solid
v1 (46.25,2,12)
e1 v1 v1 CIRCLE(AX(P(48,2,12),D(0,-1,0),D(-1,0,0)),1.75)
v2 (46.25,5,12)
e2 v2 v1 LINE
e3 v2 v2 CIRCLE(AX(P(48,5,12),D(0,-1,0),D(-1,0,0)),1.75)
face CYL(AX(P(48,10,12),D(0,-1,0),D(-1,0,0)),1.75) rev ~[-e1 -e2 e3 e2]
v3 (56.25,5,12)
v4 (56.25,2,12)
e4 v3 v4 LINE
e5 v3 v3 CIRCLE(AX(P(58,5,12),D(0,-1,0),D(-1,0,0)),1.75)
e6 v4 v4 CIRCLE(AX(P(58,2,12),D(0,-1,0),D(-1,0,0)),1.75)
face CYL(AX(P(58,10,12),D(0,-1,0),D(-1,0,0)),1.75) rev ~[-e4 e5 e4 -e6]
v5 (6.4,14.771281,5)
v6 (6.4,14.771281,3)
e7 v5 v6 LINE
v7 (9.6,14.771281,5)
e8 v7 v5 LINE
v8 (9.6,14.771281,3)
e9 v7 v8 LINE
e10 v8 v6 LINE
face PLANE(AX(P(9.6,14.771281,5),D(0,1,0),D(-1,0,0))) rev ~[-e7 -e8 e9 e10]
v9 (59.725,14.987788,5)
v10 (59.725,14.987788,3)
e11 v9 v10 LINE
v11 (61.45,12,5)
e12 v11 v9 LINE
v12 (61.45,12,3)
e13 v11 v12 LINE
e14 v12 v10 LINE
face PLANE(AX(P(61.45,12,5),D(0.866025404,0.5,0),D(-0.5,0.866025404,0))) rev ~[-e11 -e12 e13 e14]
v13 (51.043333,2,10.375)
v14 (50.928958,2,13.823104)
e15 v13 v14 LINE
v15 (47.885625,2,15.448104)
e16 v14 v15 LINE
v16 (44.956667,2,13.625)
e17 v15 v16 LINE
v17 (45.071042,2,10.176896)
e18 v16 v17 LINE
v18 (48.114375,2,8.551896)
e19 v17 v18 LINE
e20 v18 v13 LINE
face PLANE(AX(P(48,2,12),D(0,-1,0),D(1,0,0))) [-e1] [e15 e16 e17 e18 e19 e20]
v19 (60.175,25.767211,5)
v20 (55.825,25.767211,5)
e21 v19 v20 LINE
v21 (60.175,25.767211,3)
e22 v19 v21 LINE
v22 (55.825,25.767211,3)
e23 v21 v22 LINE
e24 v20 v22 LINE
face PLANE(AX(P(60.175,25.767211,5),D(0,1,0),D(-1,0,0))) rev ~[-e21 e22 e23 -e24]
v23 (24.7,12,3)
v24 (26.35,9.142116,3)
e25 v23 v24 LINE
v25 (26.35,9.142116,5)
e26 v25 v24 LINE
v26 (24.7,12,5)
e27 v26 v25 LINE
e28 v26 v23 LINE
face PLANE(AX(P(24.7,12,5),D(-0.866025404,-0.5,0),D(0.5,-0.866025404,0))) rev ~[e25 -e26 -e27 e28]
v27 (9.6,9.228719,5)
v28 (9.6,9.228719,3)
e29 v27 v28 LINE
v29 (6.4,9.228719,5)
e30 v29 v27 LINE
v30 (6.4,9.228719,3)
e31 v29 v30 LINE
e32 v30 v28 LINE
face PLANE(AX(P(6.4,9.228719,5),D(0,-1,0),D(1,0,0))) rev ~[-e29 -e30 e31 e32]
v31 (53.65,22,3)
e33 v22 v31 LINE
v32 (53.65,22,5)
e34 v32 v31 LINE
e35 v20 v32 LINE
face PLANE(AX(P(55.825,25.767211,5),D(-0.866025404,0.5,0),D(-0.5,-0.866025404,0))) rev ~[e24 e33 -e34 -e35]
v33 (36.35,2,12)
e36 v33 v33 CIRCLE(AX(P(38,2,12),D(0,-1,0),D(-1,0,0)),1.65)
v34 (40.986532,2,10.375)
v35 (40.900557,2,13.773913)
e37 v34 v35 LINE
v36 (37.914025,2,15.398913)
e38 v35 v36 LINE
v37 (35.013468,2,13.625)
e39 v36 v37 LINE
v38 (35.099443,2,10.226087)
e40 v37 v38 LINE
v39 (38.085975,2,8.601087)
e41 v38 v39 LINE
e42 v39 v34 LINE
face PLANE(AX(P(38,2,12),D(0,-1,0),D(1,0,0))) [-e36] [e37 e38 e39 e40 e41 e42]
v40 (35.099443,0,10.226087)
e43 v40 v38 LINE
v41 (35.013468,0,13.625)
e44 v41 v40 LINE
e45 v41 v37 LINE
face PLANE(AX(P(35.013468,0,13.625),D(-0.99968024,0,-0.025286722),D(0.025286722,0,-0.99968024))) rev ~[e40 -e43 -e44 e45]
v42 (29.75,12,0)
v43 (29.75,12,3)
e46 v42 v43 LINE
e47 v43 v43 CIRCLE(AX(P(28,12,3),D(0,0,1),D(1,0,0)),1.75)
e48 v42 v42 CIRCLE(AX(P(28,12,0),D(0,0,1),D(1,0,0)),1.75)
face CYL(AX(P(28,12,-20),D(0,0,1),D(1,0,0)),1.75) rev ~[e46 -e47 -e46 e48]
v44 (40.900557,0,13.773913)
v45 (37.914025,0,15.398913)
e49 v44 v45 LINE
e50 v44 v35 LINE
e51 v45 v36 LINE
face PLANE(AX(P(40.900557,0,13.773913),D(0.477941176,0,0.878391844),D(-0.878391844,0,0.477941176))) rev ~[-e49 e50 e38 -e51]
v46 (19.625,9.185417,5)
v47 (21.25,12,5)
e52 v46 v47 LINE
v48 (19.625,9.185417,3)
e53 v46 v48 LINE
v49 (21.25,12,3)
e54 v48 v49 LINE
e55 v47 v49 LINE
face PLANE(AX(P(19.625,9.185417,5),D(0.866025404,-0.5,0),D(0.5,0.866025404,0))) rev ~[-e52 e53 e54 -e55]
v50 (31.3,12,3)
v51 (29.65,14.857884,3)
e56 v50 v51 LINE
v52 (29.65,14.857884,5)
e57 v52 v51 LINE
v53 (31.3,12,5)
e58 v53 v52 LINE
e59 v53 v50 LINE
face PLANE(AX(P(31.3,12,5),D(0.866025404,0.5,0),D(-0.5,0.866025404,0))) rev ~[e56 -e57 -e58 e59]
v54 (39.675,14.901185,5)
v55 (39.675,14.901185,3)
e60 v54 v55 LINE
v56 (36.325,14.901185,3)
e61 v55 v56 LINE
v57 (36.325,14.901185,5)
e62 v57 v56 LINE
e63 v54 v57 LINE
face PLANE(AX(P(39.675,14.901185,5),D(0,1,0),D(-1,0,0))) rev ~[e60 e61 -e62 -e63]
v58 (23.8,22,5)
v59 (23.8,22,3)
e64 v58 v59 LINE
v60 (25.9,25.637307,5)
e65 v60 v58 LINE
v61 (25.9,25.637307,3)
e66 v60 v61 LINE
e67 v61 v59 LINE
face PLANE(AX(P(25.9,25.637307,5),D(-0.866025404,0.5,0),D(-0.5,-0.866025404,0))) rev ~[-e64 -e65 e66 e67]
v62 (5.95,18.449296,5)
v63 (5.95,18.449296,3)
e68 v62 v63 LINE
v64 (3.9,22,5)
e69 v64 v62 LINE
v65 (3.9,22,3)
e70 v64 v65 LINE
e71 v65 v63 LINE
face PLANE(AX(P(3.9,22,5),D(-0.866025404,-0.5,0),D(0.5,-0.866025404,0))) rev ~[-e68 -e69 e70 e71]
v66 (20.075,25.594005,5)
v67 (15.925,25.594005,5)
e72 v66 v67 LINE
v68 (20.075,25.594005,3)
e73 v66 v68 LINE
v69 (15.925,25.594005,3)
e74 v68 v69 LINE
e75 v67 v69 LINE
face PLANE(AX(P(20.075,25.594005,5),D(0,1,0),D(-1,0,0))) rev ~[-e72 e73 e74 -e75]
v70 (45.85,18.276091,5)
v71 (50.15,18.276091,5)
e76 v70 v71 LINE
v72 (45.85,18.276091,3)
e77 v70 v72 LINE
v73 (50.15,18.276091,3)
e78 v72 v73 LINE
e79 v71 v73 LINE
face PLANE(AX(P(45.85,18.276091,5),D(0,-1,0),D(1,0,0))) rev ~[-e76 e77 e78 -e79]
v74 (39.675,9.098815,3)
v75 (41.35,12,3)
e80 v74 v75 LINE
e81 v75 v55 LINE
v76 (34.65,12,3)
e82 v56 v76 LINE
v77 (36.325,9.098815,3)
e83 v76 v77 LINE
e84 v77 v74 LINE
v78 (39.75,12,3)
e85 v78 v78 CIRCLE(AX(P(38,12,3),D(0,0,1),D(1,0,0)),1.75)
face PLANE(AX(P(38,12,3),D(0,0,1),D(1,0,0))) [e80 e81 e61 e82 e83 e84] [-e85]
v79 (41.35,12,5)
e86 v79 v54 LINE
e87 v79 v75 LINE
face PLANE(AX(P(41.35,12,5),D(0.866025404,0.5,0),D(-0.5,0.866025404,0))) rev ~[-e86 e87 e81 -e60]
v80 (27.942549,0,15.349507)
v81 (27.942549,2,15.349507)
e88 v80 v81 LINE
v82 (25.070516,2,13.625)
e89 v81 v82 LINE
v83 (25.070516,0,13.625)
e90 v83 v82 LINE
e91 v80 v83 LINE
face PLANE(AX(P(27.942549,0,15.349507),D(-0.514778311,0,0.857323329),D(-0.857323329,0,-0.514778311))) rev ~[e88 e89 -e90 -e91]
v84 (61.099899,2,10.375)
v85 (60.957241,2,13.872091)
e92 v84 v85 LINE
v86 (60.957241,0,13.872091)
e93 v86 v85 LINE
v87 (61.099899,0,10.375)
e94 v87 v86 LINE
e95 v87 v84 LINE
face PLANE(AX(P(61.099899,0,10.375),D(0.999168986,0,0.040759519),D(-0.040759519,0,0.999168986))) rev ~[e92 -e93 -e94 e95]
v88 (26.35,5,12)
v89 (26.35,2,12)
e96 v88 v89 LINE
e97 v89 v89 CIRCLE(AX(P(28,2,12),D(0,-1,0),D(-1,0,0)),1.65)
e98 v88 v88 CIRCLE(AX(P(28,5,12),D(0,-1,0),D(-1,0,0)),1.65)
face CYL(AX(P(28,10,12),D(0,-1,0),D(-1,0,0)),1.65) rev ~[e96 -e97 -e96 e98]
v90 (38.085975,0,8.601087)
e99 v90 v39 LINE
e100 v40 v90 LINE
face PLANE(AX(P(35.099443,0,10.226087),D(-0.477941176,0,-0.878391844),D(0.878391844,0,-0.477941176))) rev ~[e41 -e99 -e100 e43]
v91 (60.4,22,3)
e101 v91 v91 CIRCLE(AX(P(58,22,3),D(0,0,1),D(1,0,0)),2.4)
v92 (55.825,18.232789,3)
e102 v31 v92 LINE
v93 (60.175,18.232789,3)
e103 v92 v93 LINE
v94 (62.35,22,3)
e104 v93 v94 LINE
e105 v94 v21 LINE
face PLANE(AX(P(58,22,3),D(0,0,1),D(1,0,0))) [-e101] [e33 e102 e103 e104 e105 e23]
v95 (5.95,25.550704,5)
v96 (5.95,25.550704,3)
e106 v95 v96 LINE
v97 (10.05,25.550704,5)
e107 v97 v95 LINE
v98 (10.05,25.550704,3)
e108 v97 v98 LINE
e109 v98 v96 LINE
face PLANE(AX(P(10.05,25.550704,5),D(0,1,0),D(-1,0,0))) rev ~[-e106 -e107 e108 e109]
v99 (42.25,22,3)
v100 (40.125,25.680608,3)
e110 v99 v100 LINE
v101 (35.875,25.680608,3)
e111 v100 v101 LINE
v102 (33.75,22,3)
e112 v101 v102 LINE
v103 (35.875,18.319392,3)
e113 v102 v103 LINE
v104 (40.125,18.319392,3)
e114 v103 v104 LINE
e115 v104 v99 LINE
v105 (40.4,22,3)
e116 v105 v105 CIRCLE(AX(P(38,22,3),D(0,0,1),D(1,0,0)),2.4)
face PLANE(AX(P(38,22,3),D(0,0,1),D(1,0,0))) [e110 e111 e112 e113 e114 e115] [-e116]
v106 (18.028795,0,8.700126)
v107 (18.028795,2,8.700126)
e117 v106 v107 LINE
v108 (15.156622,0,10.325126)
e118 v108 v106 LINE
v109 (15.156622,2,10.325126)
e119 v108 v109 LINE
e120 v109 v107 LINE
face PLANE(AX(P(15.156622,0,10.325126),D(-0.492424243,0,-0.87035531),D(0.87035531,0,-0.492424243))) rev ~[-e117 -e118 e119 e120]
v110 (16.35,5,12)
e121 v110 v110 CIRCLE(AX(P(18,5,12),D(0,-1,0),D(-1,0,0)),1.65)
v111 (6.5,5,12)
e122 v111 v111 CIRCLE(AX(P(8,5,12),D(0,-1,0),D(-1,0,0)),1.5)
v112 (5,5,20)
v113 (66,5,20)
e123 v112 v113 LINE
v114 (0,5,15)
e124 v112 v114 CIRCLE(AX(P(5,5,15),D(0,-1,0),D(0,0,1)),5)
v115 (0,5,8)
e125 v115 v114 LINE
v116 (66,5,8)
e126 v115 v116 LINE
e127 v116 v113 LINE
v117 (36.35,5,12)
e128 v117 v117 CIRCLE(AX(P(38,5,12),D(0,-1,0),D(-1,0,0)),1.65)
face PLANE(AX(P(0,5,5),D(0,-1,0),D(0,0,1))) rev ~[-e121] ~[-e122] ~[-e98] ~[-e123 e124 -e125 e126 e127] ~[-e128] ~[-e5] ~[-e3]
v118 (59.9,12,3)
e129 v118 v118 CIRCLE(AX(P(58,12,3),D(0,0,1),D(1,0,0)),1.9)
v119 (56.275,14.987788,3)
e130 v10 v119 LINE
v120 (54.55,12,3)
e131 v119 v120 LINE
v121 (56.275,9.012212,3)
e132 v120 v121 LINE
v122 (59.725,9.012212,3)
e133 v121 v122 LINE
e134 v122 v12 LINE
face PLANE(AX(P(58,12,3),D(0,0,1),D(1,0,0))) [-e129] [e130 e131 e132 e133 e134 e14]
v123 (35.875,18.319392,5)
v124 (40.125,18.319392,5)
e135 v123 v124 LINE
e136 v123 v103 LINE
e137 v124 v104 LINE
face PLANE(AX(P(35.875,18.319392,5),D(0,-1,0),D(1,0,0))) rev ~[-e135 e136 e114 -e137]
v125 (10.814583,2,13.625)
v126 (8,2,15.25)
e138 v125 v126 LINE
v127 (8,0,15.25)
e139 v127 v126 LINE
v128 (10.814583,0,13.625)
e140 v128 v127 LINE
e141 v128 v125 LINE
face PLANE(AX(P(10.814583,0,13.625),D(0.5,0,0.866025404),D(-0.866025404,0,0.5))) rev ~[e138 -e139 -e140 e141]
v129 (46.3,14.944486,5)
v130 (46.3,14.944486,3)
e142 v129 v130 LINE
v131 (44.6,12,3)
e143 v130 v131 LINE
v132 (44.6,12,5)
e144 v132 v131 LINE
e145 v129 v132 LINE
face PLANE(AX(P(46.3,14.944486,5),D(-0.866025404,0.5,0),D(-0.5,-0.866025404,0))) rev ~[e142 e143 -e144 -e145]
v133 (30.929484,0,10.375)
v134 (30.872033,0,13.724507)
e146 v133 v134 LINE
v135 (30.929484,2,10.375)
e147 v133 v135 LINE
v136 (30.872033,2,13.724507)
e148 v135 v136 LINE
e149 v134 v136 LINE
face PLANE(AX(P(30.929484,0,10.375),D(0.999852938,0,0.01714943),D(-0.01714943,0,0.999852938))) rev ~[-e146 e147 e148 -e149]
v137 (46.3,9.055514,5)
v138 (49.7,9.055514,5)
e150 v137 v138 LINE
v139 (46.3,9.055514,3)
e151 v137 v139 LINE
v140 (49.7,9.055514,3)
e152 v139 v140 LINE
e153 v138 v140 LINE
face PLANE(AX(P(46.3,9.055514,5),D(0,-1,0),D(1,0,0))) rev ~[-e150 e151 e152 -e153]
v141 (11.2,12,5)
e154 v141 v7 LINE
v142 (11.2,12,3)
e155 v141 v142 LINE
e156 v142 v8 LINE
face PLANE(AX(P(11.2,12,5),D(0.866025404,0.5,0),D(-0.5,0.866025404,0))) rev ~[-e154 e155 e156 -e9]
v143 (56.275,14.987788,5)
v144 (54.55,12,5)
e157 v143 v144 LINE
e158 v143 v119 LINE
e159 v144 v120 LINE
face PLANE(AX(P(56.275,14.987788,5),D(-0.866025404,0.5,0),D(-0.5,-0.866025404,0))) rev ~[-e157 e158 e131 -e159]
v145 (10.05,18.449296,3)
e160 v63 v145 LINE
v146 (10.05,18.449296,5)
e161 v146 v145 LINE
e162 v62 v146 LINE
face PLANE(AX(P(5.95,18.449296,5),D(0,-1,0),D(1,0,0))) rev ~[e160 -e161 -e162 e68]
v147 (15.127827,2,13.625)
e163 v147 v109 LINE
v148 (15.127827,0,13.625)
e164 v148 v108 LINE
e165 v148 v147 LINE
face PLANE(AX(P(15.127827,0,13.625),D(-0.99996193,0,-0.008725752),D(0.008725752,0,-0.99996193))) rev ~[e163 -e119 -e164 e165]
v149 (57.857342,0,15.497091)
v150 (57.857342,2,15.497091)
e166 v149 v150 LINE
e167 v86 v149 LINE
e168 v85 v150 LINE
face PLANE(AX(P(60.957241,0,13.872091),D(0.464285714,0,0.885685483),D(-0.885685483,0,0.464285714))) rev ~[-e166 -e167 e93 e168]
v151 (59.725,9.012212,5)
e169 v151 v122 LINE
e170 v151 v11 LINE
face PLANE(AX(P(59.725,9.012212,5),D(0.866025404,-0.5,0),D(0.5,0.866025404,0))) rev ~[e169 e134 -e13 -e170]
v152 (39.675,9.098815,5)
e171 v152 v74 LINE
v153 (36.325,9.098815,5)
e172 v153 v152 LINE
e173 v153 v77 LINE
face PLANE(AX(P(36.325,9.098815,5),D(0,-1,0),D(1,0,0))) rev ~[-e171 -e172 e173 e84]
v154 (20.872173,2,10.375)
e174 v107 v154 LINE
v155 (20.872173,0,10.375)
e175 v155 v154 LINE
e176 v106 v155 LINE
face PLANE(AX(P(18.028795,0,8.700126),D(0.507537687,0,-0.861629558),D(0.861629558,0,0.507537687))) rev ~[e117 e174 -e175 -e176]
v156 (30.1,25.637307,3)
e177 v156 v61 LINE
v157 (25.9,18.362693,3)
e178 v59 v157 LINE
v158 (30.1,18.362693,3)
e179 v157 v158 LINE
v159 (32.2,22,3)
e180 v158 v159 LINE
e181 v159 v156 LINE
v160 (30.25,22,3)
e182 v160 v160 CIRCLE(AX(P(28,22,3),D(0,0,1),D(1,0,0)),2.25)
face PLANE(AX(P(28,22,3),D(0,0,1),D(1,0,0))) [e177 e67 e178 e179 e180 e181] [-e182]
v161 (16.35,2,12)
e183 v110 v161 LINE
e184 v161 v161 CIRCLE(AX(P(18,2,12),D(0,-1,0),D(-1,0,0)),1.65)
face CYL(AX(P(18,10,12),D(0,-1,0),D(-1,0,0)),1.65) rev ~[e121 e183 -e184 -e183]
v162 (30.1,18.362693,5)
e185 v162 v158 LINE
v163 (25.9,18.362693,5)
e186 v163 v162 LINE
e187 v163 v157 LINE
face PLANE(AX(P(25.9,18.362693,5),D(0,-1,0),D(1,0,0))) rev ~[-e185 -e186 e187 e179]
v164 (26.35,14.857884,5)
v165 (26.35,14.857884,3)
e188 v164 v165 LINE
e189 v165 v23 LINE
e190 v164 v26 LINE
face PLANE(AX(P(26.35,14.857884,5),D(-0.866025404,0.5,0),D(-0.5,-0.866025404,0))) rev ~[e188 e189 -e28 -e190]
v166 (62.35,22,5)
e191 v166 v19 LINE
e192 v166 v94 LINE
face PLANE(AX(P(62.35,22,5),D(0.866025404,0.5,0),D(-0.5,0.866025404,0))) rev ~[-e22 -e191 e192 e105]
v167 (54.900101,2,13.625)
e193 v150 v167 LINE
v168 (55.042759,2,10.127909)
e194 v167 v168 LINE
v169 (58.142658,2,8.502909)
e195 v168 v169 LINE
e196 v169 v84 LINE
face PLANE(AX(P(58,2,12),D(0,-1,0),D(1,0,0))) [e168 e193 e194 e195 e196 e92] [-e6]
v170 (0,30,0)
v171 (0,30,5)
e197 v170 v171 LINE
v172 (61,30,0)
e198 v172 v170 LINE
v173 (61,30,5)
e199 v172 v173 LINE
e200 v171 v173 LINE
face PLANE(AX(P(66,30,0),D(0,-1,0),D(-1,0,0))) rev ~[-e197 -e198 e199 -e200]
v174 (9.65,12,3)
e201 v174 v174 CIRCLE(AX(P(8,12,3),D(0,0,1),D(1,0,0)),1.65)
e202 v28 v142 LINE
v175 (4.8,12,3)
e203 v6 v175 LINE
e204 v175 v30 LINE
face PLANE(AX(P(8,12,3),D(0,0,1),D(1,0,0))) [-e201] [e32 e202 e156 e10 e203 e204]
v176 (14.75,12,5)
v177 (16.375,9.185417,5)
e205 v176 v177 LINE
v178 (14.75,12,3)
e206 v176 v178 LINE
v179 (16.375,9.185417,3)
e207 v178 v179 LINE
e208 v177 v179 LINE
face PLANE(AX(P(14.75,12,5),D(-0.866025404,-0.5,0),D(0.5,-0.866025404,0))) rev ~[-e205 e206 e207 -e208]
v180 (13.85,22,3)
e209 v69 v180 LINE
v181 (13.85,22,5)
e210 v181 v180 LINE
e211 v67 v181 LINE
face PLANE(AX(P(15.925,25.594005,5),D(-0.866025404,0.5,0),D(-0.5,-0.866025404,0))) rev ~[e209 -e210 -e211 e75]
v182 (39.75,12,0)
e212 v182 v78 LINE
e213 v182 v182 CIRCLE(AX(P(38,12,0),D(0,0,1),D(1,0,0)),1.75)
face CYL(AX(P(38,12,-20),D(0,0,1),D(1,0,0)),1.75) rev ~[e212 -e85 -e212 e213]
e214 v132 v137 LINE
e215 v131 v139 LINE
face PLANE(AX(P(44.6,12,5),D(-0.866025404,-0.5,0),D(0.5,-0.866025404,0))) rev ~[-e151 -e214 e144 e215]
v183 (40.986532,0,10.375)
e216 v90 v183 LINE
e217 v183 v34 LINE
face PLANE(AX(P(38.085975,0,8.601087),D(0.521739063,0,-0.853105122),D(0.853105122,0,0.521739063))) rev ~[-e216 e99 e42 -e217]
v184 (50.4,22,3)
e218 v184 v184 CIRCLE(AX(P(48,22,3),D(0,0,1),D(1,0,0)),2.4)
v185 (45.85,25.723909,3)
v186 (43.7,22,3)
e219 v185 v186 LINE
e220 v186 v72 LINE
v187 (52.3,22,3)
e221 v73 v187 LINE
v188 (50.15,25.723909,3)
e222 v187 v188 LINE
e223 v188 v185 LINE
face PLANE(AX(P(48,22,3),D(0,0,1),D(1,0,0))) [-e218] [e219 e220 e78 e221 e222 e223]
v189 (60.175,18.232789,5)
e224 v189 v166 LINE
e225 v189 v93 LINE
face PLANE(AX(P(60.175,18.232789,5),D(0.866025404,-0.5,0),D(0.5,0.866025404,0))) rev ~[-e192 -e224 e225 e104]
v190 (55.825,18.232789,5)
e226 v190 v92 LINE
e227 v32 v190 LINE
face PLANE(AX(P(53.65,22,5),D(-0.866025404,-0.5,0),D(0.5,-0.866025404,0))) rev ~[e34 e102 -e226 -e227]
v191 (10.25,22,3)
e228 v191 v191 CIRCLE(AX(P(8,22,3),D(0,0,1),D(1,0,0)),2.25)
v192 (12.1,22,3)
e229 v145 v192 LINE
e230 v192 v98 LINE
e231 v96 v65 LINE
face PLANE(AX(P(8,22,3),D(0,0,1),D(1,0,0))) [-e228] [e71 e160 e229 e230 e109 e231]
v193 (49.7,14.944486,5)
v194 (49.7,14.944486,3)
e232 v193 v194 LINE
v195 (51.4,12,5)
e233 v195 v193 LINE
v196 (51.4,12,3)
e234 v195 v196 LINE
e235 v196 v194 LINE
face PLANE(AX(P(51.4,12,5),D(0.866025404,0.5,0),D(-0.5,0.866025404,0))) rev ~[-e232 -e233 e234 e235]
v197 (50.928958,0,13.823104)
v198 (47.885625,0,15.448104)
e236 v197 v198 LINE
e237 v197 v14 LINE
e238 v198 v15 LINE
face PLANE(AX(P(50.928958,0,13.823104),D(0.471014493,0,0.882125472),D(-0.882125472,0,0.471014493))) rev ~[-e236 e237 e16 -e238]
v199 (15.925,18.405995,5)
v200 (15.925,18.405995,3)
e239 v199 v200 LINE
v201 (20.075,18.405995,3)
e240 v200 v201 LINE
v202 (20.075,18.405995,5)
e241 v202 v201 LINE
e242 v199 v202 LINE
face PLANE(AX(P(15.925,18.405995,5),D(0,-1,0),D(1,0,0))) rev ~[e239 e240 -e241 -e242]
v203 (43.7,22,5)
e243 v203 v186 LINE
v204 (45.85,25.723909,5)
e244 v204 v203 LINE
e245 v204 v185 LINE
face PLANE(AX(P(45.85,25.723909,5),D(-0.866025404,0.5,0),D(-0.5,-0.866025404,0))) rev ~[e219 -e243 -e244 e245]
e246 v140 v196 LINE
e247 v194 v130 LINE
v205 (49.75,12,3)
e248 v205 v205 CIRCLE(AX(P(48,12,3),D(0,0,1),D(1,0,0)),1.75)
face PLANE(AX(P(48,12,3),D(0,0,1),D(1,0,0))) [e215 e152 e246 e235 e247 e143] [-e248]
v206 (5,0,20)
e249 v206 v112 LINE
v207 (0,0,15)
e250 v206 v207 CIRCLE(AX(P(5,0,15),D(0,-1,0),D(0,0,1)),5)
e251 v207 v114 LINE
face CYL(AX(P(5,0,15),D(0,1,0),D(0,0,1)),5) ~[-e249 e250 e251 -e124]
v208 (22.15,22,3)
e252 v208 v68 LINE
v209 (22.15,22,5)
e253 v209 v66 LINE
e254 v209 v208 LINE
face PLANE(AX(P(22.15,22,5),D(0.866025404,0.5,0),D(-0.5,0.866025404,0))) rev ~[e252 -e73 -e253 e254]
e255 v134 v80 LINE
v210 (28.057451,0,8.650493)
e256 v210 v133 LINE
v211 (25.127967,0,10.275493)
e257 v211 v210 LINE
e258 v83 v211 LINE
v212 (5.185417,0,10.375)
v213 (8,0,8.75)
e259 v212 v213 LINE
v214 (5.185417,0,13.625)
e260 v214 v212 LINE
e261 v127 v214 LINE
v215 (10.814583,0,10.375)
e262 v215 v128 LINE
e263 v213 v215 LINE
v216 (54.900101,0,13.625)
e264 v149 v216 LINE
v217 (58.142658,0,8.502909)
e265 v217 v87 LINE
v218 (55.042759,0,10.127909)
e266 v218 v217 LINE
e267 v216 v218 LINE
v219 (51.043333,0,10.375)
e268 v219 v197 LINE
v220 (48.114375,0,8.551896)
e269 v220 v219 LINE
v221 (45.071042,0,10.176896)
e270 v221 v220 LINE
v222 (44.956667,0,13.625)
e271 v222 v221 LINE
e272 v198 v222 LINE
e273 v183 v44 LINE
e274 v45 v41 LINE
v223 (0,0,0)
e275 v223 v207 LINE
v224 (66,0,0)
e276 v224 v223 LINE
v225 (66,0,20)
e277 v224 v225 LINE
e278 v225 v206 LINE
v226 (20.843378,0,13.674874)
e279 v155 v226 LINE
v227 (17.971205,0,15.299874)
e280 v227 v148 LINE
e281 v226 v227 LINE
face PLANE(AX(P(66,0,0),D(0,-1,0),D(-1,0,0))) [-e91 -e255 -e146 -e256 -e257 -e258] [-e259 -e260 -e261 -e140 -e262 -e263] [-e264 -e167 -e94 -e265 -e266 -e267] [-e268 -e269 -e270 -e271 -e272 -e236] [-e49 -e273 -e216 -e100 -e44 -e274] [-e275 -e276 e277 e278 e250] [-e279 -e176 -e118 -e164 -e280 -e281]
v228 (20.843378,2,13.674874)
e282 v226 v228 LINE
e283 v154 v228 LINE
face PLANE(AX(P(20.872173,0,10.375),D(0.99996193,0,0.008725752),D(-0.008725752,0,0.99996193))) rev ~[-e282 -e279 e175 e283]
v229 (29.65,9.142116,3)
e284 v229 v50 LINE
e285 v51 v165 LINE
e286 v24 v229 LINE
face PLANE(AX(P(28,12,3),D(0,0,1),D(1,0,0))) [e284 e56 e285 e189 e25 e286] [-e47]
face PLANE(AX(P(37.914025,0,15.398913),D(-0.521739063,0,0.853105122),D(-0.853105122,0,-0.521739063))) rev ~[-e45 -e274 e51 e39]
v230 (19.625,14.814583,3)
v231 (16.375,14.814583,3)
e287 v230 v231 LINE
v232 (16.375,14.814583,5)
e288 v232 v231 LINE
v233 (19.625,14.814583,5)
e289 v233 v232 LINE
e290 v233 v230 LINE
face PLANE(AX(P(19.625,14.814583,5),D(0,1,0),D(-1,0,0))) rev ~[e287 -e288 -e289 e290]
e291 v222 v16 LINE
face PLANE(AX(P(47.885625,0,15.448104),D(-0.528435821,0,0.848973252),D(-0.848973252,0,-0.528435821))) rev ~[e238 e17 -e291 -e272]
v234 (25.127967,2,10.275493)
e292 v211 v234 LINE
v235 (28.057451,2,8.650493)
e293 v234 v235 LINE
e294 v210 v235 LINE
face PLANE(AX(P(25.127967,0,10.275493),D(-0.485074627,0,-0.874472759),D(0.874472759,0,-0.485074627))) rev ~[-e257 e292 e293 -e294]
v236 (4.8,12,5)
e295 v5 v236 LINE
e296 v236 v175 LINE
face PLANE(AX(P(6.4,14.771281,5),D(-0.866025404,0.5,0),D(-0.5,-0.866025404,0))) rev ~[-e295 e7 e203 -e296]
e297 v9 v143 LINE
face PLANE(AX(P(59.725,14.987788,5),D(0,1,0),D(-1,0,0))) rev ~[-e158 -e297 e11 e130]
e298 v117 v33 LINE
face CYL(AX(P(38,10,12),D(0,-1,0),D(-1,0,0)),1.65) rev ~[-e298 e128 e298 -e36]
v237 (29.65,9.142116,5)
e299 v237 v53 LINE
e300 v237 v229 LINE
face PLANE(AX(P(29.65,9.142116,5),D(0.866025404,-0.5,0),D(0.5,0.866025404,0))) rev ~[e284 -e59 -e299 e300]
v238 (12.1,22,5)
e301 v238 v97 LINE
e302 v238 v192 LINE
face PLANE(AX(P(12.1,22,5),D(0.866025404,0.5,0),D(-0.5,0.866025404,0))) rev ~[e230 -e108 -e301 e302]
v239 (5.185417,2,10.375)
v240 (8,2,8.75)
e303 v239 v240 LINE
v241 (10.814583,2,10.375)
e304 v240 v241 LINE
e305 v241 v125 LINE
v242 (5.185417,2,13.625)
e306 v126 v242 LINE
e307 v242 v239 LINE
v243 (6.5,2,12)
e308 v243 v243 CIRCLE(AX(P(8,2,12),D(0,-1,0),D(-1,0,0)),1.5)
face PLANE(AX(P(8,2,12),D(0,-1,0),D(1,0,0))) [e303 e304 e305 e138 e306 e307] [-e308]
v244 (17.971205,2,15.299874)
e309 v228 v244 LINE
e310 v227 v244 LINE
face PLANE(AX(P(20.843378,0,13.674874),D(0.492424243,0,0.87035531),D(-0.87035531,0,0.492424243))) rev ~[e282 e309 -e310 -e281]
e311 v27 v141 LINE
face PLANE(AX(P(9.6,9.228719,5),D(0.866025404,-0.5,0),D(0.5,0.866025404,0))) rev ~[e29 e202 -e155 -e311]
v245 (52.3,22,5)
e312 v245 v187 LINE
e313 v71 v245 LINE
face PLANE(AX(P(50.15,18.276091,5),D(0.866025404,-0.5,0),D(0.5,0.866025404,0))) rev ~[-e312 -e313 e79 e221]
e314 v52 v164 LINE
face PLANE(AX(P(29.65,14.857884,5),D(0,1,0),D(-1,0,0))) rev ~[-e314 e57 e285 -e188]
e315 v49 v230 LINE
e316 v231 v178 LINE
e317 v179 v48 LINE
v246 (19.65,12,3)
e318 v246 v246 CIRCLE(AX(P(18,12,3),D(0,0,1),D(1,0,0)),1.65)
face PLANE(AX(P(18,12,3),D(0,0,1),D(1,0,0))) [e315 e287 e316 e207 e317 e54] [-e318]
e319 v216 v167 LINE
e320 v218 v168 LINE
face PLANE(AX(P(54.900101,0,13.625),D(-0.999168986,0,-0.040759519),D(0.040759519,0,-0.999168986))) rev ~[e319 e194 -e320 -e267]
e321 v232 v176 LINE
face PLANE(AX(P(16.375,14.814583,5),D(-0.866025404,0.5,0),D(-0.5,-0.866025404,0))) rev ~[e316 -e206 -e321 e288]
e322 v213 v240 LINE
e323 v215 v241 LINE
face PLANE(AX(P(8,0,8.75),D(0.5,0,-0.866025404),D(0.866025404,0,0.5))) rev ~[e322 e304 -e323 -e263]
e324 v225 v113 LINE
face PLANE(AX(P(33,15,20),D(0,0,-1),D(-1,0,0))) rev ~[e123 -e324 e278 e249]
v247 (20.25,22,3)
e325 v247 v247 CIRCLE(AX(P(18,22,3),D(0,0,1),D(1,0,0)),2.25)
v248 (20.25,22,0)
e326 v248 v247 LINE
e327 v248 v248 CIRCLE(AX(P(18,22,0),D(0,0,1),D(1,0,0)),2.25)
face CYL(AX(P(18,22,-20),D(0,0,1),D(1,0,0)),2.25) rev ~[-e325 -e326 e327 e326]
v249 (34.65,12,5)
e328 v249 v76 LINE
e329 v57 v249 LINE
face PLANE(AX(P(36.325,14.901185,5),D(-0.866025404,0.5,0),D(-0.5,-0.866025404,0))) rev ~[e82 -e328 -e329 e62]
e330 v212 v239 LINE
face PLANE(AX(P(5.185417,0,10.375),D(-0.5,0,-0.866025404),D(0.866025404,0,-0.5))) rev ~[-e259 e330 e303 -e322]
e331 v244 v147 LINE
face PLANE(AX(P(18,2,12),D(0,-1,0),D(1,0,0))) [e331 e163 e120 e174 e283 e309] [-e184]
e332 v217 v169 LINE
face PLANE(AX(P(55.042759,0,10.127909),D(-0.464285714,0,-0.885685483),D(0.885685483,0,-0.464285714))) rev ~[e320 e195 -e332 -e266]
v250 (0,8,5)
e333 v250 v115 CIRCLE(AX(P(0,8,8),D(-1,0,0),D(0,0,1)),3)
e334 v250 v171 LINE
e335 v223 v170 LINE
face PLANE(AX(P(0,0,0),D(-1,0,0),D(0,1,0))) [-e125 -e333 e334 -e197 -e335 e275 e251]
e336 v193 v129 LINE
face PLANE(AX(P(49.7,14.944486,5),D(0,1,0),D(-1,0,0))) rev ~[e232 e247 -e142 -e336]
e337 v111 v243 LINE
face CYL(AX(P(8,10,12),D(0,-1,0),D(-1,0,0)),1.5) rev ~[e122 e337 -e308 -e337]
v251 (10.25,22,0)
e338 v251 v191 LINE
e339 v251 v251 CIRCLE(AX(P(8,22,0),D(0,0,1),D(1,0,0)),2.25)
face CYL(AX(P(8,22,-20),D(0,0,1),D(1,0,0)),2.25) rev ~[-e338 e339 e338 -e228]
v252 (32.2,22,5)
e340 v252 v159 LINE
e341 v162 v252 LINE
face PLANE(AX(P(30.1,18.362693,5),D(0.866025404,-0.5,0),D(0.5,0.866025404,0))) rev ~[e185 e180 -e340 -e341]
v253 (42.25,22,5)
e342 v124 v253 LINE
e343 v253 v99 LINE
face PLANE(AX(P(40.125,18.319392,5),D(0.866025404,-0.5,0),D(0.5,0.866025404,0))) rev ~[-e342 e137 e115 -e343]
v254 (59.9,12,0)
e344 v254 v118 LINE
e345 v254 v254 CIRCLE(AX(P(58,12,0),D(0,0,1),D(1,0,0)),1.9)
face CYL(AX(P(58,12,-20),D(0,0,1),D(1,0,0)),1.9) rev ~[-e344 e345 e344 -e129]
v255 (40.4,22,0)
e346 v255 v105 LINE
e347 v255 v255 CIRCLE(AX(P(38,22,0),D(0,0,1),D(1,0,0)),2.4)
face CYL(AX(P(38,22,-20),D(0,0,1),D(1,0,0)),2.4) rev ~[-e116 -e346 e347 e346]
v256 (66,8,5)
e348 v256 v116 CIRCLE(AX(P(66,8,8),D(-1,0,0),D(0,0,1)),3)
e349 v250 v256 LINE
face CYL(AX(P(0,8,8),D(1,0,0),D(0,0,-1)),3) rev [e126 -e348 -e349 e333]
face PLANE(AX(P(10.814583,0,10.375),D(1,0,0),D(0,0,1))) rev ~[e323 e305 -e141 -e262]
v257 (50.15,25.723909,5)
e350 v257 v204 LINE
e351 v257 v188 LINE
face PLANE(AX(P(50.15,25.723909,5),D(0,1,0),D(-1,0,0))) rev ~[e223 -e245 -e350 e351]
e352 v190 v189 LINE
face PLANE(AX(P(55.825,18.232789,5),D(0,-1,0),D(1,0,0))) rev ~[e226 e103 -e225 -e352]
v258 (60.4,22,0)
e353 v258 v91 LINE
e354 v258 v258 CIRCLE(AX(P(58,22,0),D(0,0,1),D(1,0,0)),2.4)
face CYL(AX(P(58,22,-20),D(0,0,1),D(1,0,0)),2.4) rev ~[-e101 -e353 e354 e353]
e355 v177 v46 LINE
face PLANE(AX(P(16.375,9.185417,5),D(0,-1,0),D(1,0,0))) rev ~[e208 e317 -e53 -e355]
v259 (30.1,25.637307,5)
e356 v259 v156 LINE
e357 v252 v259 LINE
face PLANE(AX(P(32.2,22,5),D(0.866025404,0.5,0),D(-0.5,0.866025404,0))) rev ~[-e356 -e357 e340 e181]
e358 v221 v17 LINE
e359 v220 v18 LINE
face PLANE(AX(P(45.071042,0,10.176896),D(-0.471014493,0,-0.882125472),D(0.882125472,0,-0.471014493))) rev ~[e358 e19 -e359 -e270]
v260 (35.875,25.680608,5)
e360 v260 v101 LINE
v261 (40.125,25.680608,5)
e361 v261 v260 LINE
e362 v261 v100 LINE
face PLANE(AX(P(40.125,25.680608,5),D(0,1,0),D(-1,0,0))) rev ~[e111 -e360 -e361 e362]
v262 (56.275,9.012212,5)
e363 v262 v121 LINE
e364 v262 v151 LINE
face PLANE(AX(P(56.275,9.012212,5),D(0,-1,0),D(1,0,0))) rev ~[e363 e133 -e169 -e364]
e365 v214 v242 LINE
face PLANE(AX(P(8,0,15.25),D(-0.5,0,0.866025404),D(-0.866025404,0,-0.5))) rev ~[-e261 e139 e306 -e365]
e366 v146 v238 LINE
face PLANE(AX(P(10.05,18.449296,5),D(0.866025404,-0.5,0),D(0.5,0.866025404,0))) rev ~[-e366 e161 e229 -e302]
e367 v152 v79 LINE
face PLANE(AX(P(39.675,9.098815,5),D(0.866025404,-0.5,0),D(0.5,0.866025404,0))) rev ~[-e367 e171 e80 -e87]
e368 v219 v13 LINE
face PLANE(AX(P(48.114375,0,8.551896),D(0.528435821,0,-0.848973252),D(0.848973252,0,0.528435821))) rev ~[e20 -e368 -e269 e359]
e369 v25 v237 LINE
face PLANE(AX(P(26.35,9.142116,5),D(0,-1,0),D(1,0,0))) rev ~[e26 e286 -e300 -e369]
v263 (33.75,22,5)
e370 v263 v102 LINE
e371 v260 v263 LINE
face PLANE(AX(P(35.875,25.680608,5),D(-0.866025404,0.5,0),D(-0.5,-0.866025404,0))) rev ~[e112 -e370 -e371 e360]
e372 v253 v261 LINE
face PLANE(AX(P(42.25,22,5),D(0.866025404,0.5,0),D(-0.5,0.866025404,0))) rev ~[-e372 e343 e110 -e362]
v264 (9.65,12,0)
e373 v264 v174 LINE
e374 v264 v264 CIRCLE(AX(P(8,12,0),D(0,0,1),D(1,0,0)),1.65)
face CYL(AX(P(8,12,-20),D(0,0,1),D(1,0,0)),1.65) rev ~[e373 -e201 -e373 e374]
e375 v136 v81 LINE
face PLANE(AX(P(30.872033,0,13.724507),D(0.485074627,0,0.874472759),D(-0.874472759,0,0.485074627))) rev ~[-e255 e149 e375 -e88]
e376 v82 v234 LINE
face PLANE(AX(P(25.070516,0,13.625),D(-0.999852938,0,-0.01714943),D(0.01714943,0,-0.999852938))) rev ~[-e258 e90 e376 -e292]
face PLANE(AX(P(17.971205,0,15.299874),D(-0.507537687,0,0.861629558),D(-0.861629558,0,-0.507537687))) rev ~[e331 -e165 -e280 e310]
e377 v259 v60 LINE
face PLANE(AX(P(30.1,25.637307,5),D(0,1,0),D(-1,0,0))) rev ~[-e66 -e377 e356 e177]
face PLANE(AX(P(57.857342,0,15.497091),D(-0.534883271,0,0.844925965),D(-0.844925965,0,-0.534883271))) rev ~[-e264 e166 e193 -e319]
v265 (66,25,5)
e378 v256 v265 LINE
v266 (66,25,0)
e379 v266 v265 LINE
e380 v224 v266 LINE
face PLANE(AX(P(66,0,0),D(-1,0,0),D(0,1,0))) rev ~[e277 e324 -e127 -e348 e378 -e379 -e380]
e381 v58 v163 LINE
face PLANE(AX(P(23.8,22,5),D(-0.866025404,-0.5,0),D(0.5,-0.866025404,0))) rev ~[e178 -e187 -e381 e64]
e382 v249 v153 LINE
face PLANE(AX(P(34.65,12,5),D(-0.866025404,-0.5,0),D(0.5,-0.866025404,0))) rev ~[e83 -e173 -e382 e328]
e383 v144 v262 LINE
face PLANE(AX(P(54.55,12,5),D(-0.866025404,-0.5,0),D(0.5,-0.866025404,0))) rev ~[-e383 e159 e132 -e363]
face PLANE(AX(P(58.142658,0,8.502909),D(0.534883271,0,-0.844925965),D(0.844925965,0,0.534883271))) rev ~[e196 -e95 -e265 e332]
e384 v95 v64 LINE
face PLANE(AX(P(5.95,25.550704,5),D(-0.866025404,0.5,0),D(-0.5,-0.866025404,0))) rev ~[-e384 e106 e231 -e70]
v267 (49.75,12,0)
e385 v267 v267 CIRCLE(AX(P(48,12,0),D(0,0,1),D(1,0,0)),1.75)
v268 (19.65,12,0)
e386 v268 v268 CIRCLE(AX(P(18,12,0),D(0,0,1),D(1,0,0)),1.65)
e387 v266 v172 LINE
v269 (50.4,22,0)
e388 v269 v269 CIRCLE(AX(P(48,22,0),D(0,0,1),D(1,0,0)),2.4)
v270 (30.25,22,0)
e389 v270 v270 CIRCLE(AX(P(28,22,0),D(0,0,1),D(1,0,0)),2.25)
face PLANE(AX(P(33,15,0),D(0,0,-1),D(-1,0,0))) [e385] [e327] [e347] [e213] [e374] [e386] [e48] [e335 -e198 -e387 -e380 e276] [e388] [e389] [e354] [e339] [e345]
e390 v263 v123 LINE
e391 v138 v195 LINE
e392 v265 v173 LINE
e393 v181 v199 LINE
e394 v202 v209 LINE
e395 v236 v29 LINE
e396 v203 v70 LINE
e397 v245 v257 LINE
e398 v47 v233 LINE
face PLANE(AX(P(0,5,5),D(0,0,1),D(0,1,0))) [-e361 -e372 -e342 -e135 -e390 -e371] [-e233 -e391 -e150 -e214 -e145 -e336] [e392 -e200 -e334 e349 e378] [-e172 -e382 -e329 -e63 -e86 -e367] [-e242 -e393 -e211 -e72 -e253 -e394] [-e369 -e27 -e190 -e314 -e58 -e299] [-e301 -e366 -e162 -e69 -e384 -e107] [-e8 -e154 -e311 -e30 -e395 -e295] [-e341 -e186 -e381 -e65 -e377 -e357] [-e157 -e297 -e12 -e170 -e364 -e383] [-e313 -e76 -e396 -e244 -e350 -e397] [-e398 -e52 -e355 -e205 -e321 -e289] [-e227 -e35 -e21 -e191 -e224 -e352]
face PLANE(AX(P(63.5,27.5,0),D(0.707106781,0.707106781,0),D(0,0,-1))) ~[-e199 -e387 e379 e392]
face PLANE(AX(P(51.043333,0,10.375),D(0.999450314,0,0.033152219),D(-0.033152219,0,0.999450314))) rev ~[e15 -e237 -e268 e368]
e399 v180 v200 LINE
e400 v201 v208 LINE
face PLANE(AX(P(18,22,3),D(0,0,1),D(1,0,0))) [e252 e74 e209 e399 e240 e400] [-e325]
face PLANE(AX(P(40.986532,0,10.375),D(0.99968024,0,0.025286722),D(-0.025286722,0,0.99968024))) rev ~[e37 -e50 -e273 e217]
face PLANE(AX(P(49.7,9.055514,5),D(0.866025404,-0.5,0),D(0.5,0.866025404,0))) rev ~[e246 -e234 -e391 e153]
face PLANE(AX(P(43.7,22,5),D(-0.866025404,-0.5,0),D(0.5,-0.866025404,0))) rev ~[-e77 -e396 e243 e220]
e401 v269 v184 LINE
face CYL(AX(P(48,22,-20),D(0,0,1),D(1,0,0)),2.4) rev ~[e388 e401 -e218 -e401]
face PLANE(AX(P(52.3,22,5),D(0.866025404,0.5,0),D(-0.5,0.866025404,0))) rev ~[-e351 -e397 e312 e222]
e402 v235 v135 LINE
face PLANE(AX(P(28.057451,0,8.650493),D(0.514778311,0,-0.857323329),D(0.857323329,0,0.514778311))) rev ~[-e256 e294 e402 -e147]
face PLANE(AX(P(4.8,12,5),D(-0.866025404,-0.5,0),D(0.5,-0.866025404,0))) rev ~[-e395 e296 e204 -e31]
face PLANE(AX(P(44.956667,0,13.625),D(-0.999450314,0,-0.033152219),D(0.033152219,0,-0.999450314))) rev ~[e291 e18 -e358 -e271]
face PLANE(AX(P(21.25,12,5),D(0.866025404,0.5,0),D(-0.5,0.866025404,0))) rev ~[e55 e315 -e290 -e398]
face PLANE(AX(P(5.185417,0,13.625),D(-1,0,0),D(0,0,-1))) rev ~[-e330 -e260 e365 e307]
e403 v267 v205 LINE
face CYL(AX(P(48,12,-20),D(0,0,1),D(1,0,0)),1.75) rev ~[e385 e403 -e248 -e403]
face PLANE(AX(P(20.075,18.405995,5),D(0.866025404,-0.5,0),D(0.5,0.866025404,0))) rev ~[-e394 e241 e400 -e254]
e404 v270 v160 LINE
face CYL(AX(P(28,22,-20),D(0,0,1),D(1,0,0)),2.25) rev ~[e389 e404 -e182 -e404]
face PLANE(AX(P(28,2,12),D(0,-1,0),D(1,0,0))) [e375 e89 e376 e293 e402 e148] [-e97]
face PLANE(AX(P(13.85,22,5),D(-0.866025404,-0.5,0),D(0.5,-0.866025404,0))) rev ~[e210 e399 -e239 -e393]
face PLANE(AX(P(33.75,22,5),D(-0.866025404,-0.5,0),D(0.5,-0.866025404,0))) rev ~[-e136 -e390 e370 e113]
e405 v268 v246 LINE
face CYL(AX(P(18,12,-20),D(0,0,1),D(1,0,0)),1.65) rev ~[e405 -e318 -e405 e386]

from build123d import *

# Parameters (mm, degrees)
SKETCH_1_W                  = 66
SKETCH_1_H                  = 30
EXTRUDE_1_DEPTH             = 20
SKETCH_2_W                  = 15
SKETCH_2_H                  = 25
CUT_EXTRUDE_1_DEPTH         = 67
CUT_EXTRUDE_2_DEPTH         = 2
CUT_EXTRUDE_3_DEPTH         = 2
CUT_EXTRUDE_4_DEPTH         = 2
CUT_EXTRUDE_5_DEPTH         = 2
CUT_EXTRUDE_6_DEPTH         = 2
CUT_EXTRUDE_7_DEPTH         = 2
CUT_EXTRUDE_8_DEPTH         = 2
CUT_EXTRUDE_9_DEPTH         = 2
CUT_EXTRUDE_10_DEPTH        = 2
CUT_EXTRUDE_11_DEPTH        = 2
CUT_EXTRUDE_12_DEPTH        = 2
CUT_EXTRUDE_13_DEPTH        = 2
CUT_EXTRUDE_14_DEPTH        = 2
CUT_EXTRUDE_15_DEPTH        = 2
CUT_EXTRUDE_16_DEPTH        = 2
CUT_EXTRUDE_17_DEPTH        = 2
CUT_EXTRUDE_18_DEPTH        = 2
CUT_EXTRUDE_19_DEPTH        = 2
HOLE_WIZARD_3_0_3_1_D       = 3
HOLE_WIZARD_3_0_3_1_DEPTH   = 5
HOLE_WIZARD_3_3_3_3_1_D     = 3.3
HOLE_WIZARD_3_3_3_3_1_DEPTH = 5
HOLE_WIZARD_3_5_3_5_1_D     = 3.5
HOLE_WIZARD_3_5_3_5_1_DEPTH = 5
HOLE_WIZARD_3_8_3_8_1_D     = 3.8
HOLE_WIZARD_3_8_3_8_1_DEPTH = 20
HOLE_WIZARD_4_5_4_5_1_D     = 4.5
HOLE_WIZARD_4_5_4_5_1_DEPTH = 20
HOLE_WIZARD_3_5_3_5_2_D     = 3.5
HOLE_WIZARD_3_5_3_5_2_DEPTH = 20
HOLE_WIZARD_4_8_4_8_1_D     = 4.8
HOLE_WIZARD_4_8_4_8_1_DEPTH = 20
HOLE_WIZARD_3_3_3_3_2_D     = 3.3
HOLE_WIZARD_3_3_3_3_2_DEPTH = 20
CHAMFER_1_SIZE              = 5
FILLET_1_R                  = 3
FILLET_2_R                  = 5


with BuildPart() as part:
    # 草图1 → 凸台-拉伸1 (new body)
    with BuildSketch(Plane(origin=(0, 0, 0), x_dir=(-1, 0, 0), z_dir=(0, 0, -1))):
        with Locations((-33, 15)):
            Rectangle(SKETCH_1_W, SKETCH_1_H)
    extrude(amount=-EXTRUDE_1_DEPTH)

    # 草图2 → 切除-拉伸1 (cut, through all)
    with BuildSketch(Plane.ZY):
        with Locations((12.5, 17.5)):
            Rectangle(SKETCH_2_W, SKETCH_2_H)
    extrude(amount=-CUT_EXTRUDE_1_DEPTH, mode=Mode.SUBTRACT)

    # 草图3 → 切除-拉伸2 (cut)
    with BuildSketch(Plane.XZ):
        Polygon((58.142658315, 8.502908551), (61.099899192, 10.375), (60.957240877, 13.872091449), (57.857341685, 15.497091449), (54.900100808, 13.625), (55.042759123, 10.127908551), align=None)
    extrude(amount=-CUT_EXTRUDE_2_DEPTH, mode=Mode.SUBTRACT)

    # 草图4 → 切除-拉伸3 (cut)
    with BuildSketch(Plane.XZ):
        Polygon((48.114375157, 8.551896416), (51.043332877, 10.375), (50.92895772, 13.823103584), (47.885624843, 15.448103584), (44.956667123, 13.625), (45.07104228, 10.176896416), align=None)
    extrude(amount=-CUT_EXTRUDE_3_DEPTH, mode=Mode.SUBTRACT)

    # 草图5 → 切除-拉伸4 (cut)
    with BuildSketch(Plane.XZ):
        Polygon((38.085974854, 8.601087185), (40.98653227, 10.375), (40.900557416, 13.773912815), (37.914025146, 15.398912815), (35.01346773, 13.625), (35.099442584, 10.226087185), align=None)
    extrude(amount=-CUT_EXTRUDE_4_DEPTH, mode=Mode.SUBTRACT)

    # 草图6 → 切除-拉伸5 (cut)
    with BuildSketch(Plane.XZ):
        Polygon((28.05745059, 8.650492659), (30.929483743, 10.375), (30.872033153, 13.724507341), (27.94254941, 15.349507341), (25.070516257, 13.625), (25.127966847, 10.275492659), align=None)
    extrude(amount=-CUT_EXTRUDE_5_DEPTH, mode=Mode.SUBTRACT)

    # 草图7 → 切除-拉伸6 (cut)
    with BuildSketch(Plane.XZ):
        Polygon((18.02879498, 8.700125631), (20.872172523, 10.375), (20.843377542, 13.674874369), (17.97120502, 15.299874369), (15.127827477, 13.625), (15.156622458, 10.325125631), align=None)
    extrude(amount=-CUT_EXTRUDE_6_DEPTH, mode=Mode.SUBTRACT)

    # 草图8 → 切除-拉伸7 (cut)
    with BuildSketch(Plane.XZ):
        Polygon((8, 8.75), (10.814582562, 10.375), (10.814582562, 13.625), (8, 15.25), (5.185417438, 13.625), (5.185417438, 10.375), align=None)
    extrude(amount=-CUT_EXTRUDE_7_DEPTH, mode=Mode.SUBTRACT)

    # 草图9 → 切除-拉伸8 (cut)
    with BuildSketch(Plane.XY.offset(5)):
        Polygon((10.05, 18.449295844), (12.1, 22), (10.05, 25.550704156), (5.95, 25.550704156), (3.9, 22), (5.95, 18.449295844), align=None)
    extrude(amount=-CUT_EXTRUDE_8_DEPTH, mode=Mode.SUBTRACT)

    # 草图10 → 切除-拉伸9 (cut)
    with BuildSketch(Plane.XY.offset(5)):
        Polygon((9.6, 9.228718708), (11.2, 12), (9.6, 14.771281292), (6.4, 14.771281292), (4.8, 12), (6.4, 9.228718708), align=None)
    extrude(amount=-CUT_EXTRUDE_9_DEPTH, mode=Mode.SUBTRACT)

    # 草图11 → 切除-拉伸10 (cut)
    with BuildSketch(Plane.XY.offset(5)):
        Polygon((19.625, 9.185417438), (21.25, 12), (19.625, 14.814582562), (16.375, 14.814582562), (14.75, 12), (16.375, 9.185417438), align=None)
    extrude(amount=-CUT_EXTRUDE_10_DEPTH, mode=Mode.SUBTRACT)

    # 草图12 → 切除-拉伸11 (cut)
    with BuildSketch(Plane.XY.offset(5)):
        Polygon((29.65, 9.142116168), (31.3, 12), (29.65, 14.857883832), (26.35, 14.857883832), (24.7, 12), (26.35, 9.142116168), align=None)
    extrude(amount=-CUT_EXTRUDE_11_DEPTH, mode=Mode.SUBTRACT)

    # 草图13 → 切除-拉伸12 (cut)
    with BuildSketch(Plane.XY.offset(5)):
        Polygon((20.075, 18.405994574), (22.15, 22), (20.075, 25.594005426), (15.925, 25.594005426), (13.85, 22), (15.925, 18.405994574), align=None)
    extrude(amount=-CUT_EXTRUDE_12_DEPTH, mode=Mode.SUBTRACT)

    # 草图14 → 切除-拉伸13 (cut)
    with BuildSketch(Plane.XY.offset(5)):
        Polygon((30.1, 18.362693304), (32.2, 22), (30.1, 25.637306696), (25.9, 25.637306696), (23.8, 22), (25.9, 18.362693304), align=None)
    extrude(amount=-CUT_EXTRUDE_13_DEPTH, mode=Mode.SUBTRACT)

    # 草图15 → 切除-拉伸14 (cut)
    with BuildSketch(Plane.XY.offset(5)):
        Polygon((40.125, 18.319392034), (42.25, 22), (40.125, 25.680607966), (35.875, 25.680607966), (33.75, 22), (35.875, 18.319392034), align=None)
    extrude(amount=-CUT_EXTRUDE_14_DEPTH, mode=Mode.SUBTRACT)

    # 草图16 → 切除-拉伸15 (cut)
    with BuildSketch(Plane.XY.offset(5)):
        Polygon((50.15, 18.276090764), (52.3, 22), (50.15, 25.723909236), (45.85, 25.723909236), (43.7, 22), (45.85, 18.276090764), align=None)
    extrude(amount=-CUT_EXTRUDE_15_DEPTH, mode=Mode.SUBTRACT)

    # 草图17 → 切除-拉伸16 (cut)
    with BuildSketch(Plane.XY.offset(5)):
        Polygon((60.175, 18.232789494), (62.35, 22), (60.175, 25.767210506), (55.825, 25.767210506), (53.65, 22), (55.825, 18.232789494), align=None)
    extrude(amount=-CUT_EXTRUDE_16_DEPTH, mode=Mode.SUBTRACT)

    # 草图18 → 切除-拉伸17 (cut)
    with BuildSketch(Plane.XY.offset(5)):
        Polygon((59.725, 9.012212357), (61.45, 12), (59.725, 14.987787643), (56.275, 14.987787643), (54.55, 12), (56.275, 9.012212357), align=None)
    extrude(amount=-CUT_EXTRUDE_17_DEPTH, mode=Mode.SUBTRACT)

    # 草图19 → 切除-拉伸18 (cut)
    with BuildSketch(Plane.XY.offset(5)):
        Polygon((49.7, 9.055513627), (51.4, 12), (49.7, 14.944486373), (46.3, 14.944486373), (44.6, 12), (46.3, 9.055513627), align=None)
    extrude(amount=-CUT_EXTRUDE_18_DEPTH, mode=Mode.SUBTRACT)

    # 草图20 → 切除-拉伸19 (cut)
    with BuildSketch(Plane.XY.offset(5)):
        Polygon((39.675, 9.098814897), (41.35, 12), (39.675, 14.901185103), (36.325, 14.901185103), (34.65, 12), (36.325, 9.098814897), align=None)
    extrude(amount=-CUT_EXTRUDE_19_DEPTH, mode=Mode.SUBTRACT)

    # Ø3.0 (3) 直径孔1
    with Locations(Plane(origin=(0, 5, 0), x_dir=(1, 0, 0), z_dir=(0, 1, 0))):
        with Locations((8, -12)):
            Hole(HOLE_WIZARD_3_0_3_1_D / 2, depth=HOLE_WIZARD_3_0_3_1_DEPTH)

    # Ø3.3 (3.3) 直径孔1
    with Locations(Plane(origin=(0, 5, 0), x_dir=(1, 0, 0), z_dir=(0, 1, 0))):
        with Locations((38, -12), (28, -12), (18, -12)):
            Hole(HOLE_WIZARD_3_3_3_3_1_D / 2, depth=HOLE_WIZARD_3_3_3_3_1_DEPTH)

    # Ø3.5 (3.5) 直径孔1
    with Locations(Plane(origin=(0, 5, 0), x_dir=(1, 0, 0), z_dir=(0, 1, 0))):
        with Locations((58, -12), (48, -12)):
            Hole(HOLE_WIZARD_3_5_3_5_1_D / 2, depth=HOLE_WIZARD_3_5_3_5_1_DEPTH)

    # Ø3.8 (3.8) 直径孔1
    with Locations(Plane(origin=(0, 0, 0), x_dir=(-1, 0, 0), z_dir=(0, 0, -1))):
        with Locations((-58, 12)):
            Hole(HOLE_WIZARD_3_8_3_8_1_D / 2, depth=HOLE_WIZARD_3_8_3_8_1_DEPTH)

    # Ø4.5 (4.5) 直径孔1
    with Locations(Plane(origin=(0, 0, 0), x_dir=(-1, 0, 0), z_dir=(0, 0, -1))):
        with Locations((-28, 22), (-18, 22), (-8, 22)):
            Hole(HOLE_WIZARD_4_5_4_5_1_D / 2, depth=HOLE_WIZARD_4_5_4_5_1_DEPTH)

    # Ø3.5 (3.5) 直径孔2
    with Locations(Plane(origin=(0, 0, 0), x_dir=(-1, 0, 0), z_dir=(0, 0, -1))):
        with Locations((-28, 12), (-38, 12), (-48, 12)):
            Hole(HOLE_WIZARD_3_5_3_5_2_D / 2, depth=HOLE_WIZARD_3_5_3_5_2_DEPTH)

    # Ø4.8 (4.8) 直径孔1
    with Locations(Plane(origin=(0, 0, 0), x_dir=(-1, 0, 0), z_dir=(0, 0, -1))):
        with Locations((-58, 22), (-48, 22), (-38, 22)):
            Hole(HOLE_WIZARD_4_8_4_8_1_D / 2, depth=HOLE_WIZARD_4_8_4_8_1_DEPTH)

    # Ø3.3 (3.3) 直径孔2
    with Locations(Plane(origin=(0, 0, 0), x_dir=(-1, 0, 0), z_dir=(0, 0, -1))):
        with Locations((-8, 12), (-18, 12)):
            Hole(HOLE_WIZARD_3_3_3_3_2_D / 2, depth=HOLE_WIZARD_3_3_3_3_2_DEPTH)

    # 倒角1
    chamfer_1_edges = [part.edges().sort_by_distance(p)[0] for p in [
        (66, 30, 2.5),
    ]]
    chamfer(chamfer_1_edges, length=CHAMFER_1_SIZE)

    # 圆角1
    fillet_1_edges = [part.edges().sort_by_distance(p)[0] for p in [
        (33, 5, 5),
    ]]
    fillet(fillet_1_edges, radius=FILLET_1_R)

    # 圆角2
    fillet_2_edges = [part.edges().sort_by_distance(p)[0] for p in [
        (0, 2.5, 20),
    ]]
    fillet(fillet_2_edges, radius=FILLET_2_R)


solid = part.part
